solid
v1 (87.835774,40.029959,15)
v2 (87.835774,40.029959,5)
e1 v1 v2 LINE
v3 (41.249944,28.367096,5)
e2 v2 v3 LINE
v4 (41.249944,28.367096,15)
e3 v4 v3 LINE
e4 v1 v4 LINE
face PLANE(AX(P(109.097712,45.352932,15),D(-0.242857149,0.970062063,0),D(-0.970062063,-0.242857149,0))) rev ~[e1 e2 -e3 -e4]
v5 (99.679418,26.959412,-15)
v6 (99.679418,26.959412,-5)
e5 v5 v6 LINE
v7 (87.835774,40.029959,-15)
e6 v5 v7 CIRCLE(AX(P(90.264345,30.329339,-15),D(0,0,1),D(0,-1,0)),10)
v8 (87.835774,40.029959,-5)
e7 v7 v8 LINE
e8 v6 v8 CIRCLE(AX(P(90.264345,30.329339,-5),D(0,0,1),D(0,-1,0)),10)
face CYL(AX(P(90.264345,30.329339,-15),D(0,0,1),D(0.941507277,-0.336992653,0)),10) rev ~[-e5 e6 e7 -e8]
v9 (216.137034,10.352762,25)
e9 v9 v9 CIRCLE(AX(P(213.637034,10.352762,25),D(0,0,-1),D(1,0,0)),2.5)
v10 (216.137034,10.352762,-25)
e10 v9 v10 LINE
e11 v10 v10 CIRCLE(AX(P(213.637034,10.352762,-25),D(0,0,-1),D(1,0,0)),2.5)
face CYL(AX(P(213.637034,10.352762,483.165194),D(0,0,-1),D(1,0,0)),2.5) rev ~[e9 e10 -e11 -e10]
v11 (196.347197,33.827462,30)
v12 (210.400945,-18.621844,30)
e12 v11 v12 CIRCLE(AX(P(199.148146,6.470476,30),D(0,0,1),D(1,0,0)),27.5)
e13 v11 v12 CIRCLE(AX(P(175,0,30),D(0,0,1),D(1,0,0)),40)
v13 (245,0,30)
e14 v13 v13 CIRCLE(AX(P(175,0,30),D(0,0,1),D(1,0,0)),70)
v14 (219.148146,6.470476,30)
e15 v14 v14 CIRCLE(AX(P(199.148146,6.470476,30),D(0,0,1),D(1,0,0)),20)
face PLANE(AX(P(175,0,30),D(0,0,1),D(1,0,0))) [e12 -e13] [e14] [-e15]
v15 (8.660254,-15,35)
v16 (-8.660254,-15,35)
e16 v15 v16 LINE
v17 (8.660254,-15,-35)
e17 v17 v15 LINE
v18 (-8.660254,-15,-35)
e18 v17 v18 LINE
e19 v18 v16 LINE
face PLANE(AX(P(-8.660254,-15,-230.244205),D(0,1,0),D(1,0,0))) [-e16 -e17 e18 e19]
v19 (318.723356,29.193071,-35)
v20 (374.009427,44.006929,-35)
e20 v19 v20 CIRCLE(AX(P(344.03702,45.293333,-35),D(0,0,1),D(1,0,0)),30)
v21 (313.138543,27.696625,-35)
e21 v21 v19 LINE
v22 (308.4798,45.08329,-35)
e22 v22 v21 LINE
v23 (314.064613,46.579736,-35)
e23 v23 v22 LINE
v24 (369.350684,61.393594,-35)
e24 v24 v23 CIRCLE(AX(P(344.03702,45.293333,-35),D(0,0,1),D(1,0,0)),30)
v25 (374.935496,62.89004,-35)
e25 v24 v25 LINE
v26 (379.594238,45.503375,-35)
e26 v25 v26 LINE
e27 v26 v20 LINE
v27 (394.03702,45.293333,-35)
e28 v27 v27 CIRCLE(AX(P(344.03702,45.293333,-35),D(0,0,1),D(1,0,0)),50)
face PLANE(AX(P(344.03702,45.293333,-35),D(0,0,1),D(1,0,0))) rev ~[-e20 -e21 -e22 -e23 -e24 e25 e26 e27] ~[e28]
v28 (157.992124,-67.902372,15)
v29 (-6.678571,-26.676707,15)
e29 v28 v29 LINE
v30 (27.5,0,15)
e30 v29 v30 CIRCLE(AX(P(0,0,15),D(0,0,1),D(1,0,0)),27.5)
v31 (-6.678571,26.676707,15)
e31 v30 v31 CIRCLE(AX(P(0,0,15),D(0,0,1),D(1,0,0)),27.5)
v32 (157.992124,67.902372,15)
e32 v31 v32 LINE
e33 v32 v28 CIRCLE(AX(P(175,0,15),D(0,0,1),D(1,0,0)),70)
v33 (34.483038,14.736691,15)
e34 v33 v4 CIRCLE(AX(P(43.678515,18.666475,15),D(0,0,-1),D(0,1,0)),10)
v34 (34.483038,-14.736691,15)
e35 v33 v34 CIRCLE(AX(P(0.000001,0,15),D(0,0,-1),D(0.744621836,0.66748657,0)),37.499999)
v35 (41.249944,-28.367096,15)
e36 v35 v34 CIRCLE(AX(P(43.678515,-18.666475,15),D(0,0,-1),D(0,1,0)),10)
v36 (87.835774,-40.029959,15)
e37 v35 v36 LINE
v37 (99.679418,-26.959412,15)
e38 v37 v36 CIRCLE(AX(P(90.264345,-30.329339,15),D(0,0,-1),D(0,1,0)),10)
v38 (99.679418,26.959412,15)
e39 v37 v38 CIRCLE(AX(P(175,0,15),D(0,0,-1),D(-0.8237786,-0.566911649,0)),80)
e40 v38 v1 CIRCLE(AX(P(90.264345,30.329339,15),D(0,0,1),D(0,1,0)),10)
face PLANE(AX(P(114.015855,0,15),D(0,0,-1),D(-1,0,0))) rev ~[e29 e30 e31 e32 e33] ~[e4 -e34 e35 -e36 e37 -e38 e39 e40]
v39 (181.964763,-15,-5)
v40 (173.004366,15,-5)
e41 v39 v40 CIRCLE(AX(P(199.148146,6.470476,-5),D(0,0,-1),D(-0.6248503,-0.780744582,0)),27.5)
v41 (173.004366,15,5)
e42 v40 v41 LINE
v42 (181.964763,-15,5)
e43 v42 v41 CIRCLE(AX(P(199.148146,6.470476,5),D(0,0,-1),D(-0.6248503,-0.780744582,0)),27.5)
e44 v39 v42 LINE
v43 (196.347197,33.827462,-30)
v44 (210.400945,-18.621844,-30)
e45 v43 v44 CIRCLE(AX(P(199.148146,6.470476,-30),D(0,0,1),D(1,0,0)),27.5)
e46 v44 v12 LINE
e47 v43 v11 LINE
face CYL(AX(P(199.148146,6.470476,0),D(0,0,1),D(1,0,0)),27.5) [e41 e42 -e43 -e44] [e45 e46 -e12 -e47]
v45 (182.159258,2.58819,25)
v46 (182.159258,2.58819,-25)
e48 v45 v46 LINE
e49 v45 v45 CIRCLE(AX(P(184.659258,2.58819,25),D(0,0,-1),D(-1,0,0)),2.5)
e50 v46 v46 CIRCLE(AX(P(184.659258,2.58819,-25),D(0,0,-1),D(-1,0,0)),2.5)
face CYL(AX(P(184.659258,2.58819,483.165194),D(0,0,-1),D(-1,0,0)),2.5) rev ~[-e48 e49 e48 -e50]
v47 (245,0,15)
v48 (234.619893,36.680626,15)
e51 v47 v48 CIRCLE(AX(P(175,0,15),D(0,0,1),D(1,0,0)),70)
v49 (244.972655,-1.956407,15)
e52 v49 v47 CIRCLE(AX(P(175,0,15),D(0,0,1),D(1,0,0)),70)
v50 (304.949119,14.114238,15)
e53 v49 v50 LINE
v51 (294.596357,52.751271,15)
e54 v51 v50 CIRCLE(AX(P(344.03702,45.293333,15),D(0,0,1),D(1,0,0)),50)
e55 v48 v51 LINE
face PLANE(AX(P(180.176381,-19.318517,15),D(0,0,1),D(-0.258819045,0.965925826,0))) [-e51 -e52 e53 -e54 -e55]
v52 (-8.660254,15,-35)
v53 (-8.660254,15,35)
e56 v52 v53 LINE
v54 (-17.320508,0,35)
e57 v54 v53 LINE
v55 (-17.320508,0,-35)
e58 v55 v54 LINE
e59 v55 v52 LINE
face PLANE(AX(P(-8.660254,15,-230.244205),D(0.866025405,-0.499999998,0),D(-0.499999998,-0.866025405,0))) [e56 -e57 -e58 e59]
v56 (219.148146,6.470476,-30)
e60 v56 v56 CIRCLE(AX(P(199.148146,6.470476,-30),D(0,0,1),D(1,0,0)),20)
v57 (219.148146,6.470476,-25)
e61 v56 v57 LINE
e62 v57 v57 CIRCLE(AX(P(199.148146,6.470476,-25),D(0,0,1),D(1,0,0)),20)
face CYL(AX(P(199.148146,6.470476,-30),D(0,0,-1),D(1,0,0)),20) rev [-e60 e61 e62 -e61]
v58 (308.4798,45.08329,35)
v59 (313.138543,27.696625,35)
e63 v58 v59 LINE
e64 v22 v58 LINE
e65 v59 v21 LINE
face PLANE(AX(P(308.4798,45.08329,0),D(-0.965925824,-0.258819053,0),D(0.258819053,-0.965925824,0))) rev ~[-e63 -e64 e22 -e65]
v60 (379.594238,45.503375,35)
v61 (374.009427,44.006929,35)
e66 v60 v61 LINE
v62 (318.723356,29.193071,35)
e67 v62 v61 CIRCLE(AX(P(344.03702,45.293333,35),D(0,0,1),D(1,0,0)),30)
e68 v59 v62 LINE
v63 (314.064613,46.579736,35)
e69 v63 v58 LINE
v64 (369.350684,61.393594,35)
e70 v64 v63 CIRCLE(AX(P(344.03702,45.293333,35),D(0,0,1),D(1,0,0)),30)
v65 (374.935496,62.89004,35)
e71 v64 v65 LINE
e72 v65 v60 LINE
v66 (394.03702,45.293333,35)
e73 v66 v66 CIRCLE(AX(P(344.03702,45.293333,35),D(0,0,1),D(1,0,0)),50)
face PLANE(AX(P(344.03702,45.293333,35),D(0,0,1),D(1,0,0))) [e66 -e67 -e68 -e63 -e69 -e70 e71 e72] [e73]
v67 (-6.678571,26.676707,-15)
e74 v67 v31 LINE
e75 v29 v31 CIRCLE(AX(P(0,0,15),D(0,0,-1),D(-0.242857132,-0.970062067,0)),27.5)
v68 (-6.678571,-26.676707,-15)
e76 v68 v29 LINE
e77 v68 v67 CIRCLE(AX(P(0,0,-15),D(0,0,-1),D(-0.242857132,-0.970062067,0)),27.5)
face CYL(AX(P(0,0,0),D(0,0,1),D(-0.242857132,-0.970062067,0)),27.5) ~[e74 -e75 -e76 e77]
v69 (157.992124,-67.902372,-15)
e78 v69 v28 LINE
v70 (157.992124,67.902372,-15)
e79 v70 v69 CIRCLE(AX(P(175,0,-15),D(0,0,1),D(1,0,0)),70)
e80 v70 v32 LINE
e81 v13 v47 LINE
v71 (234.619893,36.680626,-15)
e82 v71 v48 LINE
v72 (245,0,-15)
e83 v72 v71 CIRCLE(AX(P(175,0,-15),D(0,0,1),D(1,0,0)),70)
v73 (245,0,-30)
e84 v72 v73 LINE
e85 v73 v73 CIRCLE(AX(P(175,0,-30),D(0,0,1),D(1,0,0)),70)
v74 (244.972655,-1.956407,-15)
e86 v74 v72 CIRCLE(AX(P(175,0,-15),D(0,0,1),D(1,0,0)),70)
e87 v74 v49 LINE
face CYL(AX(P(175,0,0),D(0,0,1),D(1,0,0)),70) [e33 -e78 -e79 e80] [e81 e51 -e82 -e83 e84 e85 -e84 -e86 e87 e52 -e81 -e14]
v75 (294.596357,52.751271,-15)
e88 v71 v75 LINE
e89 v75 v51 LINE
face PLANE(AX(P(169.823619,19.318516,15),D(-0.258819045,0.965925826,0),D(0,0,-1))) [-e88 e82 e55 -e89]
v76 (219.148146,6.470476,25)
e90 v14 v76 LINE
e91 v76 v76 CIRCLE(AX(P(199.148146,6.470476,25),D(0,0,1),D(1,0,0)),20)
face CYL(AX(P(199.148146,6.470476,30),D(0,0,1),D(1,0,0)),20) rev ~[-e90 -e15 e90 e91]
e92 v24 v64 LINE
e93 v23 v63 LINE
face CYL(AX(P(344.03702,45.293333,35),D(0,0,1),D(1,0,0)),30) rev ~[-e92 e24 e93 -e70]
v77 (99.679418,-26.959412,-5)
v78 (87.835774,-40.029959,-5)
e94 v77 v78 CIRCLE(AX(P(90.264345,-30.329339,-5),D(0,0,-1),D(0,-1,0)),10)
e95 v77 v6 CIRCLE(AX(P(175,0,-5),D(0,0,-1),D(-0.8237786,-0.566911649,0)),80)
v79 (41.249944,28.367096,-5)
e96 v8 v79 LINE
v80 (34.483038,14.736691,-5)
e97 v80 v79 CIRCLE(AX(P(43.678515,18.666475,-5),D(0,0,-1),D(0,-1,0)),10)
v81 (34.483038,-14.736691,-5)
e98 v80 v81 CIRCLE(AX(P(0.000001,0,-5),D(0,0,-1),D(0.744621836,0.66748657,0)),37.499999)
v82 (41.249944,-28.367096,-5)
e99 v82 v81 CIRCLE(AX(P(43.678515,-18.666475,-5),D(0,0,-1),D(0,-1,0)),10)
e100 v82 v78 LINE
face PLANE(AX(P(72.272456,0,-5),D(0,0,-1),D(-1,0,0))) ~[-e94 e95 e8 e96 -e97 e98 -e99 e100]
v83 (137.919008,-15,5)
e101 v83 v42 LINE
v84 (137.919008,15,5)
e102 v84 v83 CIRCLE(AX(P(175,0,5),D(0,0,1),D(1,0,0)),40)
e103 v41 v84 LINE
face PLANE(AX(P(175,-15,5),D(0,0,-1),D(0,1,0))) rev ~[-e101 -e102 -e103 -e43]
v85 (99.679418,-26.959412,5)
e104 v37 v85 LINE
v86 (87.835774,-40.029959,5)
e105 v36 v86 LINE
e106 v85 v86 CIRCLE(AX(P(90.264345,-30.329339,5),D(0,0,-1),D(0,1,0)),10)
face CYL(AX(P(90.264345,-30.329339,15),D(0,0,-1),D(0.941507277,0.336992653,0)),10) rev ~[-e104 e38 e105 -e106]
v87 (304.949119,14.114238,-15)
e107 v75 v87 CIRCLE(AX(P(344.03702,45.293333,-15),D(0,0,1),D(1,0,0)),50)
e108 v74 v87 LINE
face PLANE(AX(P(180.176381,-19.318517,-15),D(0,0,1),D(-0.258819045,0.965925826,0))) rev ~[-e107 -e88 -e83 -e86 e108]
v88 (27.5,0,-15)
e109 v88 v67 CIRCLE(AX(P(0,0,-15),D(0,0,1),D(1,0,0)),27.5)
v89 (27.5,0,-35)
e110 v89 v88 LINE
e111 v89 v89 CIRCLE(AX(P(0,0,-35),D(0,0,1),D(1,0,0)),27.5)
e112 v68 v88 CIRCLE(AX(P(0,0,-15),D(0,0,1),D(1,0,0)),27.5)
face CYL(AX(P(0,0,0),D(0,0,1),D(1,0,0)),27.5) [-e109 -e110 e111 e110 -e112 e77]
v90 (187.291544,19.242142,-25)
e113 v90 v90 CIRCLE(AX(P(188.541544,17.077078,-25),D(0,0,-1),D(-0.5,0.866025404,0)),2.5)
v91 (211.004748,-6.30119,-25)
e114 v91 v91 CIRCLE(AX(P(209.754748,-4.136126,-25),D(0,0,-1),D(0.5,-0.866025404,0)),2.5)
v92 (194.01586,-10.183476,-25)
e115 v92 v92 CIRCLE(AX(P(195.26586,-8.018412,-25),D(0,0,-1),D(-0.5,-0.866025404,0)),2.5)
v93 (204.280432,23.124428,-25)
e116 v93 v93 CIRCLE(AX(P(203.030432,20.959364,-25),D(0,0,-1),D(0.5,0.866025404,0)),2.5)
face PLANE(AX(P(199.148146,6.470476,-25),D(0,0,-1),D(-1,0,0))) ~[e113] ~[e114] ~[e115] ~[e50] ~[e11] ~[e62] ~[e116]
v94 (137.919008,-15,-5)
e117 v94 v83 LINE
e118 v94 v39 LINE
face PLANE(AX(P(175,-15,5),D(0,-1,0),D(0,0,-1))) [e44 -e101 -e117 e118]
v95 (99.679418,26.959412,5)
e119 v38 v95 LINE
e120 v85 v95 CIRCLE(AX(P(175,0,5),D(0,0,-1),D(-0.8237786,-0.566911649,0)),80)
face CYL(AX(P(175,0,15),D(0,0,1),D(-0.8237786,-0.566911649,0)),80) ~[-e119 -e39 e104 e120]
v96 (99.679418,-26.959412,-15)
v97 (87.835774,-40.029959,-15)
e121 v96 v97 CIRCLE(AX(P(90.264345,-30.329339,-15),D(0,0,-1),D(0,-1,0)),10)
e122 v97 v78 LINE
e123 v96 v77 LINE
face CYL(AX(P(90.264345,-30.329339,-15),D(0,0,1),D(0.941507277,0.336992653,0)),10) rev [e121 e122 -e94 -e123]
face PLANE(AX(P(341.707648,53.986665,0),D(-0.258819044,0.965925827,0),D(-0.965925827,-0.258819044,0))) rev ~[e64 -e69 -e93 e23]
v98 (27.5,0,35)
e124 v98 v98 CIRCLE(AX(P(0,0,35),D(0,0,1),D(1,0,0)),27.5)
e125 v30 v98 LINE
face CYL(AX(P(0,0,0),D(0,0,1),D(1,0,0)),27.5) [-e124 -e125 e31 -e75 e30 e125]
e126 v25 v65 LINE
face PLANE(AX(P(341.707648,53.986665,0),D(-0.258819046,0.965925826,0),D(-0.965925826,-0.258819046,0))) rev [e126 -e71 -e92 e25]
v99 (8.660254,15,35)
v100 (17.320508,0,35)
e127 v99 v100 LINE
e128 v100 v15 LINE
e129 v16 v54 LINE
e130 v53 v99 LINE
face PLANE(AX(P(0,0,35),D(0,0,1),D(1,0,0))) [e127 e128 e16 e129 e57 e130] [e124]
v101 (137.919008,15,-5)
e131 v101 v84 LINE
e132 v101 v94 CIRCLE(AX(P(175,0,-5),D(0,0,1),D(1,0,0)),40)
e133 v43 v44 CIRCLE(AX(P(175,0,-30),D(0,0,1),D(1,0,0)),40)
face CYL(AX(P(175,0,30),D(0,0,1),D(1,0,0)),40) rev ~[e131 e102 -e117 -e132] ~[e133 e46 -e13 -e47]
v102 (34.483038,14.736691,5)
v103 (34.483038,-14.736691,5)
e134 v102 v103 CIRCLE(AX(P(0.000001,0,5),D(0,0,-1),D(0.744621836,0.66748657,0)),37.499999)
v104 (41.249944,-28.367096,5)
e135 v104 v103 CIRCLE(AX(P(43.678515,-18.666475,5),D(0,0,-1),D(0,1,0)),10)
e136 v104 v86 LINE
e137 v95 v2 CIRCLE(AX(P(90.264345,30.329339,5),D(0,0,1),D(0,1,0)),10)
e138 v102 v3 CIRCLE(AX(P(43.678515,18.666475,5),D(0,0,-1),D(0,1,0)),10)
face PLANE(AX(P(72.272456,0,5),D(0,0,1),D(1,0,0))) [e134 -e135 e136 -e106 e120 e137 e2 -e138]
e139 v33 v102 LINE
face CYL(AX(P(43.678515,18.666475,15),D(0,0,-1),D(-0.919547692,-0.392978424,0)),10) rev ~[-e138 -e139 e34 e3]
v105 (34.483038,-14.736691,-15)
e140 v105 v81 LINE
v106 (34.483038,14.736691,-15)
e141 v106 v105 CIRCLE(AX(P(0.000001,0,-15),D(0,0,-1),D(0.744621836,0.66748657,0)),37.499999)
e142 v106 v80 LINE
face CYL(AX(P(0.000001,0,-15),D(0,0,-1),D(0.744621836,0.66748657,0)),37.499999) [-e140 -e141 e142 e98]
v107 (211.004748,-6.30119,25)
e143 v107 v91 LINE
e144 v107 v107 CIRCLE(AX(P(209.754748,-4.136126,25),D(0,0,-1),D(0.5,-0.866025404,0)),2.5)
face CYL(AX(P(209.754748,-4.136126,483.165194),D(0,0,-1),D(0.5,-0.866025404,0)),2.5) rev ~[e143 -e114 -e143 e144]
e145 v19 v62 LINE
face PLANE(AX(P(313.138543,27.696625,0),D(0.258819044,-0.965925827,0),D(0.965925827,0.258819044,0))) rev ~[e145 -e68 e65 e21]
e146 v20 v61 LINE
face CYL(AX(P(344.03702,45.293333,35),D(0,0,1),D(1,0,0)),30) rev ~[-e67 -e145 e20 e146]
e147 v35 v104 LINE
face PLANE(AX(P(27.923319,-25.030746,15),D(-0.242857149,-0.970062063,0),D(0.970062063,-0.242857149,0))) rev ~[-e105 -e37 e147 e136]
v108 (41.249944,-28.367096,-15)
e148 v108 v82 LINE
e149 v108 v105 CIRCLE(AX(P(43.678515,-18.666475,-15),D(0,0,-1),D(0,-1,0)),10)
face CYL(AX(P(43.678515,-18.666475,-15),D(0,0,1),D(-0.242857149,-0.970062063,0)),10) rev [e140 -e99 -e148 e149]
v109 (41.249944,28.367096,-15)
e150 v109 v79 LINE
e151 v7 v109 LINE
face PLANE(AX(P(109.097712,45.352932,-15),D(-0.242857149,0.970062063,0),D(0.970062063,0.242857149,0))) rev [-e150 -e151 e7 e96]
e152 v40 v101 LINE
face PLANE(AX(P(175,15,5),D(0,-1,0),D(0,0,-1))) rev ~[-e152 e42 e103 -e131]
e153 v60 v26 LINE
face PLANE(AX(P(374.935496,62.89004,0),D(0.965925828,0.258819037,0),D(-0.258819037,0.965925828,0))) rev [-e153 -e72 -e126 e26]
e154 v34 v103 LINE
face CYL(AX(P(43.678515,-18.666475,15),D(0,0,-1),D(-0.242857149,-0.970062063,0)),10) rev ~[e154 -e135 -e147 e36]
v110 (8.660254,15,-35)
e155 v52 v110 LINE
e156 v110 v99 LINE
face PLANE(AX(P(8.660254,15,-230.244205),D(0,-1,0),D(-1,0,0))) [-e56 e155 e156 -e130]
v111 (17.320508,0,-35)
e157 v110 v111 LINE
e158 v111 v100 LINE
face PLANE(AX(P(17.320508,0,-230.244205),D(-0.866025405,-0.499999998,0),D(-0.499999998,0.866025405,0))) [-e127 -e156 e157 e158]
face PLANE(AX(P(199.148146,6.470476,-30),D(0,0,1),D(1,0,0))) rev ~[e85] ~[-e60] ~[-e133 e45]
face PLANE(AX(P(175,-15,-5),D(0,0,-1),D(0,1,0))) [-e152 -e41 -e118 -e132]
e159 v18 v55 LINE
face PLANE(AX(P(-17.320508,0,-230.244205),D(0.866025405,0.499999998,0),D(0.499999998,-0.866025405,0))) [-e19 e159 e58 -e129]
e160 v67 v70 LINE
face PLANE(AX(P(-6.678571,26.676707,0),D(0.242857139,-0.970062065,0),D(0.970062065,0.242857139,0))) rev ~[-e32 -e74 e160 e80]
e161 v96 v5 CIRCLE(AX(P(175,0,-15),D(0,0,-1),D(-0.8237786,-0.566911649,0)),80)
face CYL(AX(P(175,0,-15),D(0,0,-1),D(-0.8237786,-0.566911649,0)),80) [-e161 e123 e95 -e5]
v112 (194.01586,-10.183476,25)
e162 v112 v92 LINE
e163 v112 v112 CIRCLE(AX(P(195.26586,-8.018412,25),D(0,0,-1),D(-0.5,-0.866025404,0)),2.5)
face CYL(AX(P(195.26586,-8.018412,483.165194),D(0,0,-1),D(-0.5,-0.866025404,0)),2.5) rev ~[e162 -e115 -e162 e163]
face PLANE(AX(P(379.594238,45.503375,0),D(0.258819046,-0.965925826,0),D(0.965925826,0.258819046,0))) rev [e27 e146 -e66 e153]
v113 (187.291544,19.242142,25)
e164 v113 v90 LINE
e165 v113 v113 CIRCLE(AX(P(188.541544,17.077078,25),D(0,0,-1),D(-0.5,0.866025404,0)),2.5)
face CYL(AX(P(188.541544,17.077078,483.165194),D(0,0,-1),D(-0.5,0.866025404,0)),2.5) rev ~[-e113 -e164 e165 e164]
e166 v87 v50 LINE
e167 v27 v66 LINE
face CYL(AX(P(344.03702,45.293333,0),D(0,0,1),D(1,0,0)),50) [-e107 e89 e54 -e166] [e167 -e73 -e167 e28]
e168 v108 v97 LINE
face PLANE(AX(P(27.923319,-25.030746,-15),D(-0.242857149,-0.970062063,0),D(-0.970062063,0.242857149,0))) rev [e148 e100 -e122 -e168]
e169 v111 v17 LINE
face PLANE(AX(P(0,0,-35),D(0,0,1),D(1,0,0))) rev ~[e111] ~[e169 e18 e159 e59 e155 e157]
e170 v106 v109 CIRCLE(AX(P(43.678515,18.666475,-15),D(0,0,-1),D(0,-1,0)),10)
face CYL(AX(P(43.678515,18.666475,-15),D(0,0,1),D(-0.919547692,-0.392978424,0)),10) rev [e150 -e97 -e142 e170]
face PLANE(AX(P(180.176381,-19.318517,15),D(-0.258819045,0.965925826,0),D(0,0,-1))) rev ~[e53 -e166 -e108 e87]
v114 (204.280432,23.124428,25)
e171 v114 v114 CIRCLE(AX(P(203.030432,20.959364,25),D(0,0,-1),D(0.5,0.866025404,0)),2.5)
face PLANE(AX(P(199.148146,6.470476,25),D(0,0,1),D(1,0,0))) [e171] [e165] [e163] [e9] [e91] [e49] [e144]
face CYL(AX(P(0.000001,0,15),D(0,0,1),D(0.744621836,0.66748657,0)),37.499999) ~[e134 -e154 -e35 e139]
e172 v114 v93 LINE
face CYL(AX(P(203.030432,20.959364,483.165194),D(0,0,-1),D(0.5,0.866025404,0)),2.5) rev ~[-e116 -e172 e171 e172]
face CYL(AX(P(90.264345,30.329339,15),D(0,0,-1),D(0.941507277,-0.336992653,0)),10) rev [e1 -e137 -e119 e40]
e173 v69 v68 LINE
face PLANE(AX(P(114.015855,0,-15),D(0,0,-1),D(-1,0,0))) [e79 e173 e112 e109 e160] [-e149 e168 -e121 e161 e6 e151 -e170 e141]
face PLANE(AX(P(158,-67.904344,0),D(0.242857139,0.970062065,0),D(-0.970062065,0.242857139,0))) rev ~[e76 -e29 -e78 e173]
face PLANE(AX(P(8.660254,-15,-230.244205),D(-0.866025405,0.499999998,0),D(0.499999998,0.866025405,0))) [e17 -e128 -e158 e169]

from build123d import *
from build123d.topology import SkipClean

# Parameters (mm, degrees)
LEFT_ARM_DEPTH                = 15
SKETCH2_R                     = 27.5
LEFT_BOSS_DEPTH               = 35
LEFT_HEX_DEPTH                = 265.244205
LEFT_HEX_DEPTH_BACK           = 265.244205
SKETCH3_R                     = 70
CENTRE_BOSS_DEPTH             = 30
SKETCH5_W                     = 30
SKETCH5_H                     = 40
RIGHT_ARM_DEPTH               = 175
SKETCH7_R                     = 50
RIGHT_BOSS_DEPTH              = 35
SKETCH8_R                     = 30
RIGHT_BOSS_HOLE_DEPTH         = 412.395178
SKETCH9_R                     = 40
CENTRE_HOLE_DEPTH             = 411.573979
SKETCH10_R                    = 27.5
CENTRE_BLOB_DEPTH             = 30
CENTRE_BEAM_REACH             = 243.419
SKETCH11_W                    = 10
SKETCH11_H                    = 30
CENTRE_BEAM_DIRECTION_2_REACH = 243.419
SKETCH12_R                    = 20
CUT_EXTRUDE4_DEPTH            = 5
M6X1_0_TAPPED_HOLE1_D         = 5
CIRPATTERN1_COUNT             = 6
CUT_OUT_DEPTH                 = 10
FILLET1_R                     = 10
FILLET1_OF_MIRROR2_R          = 10
KEYWAY_DEPTH                  = 407.904156


with BuildPart() as part:
    # Sketch1 → LEFT_ARM (new, symmetric)
    with BuildSketch(Plane.XY):
        with BuildLine():
            Line((-6.678571, 26.676707), (158, 67.904344))
            ThreePointArc((158, 67.904344), (245, 0), (158, -67.904344))
            Line((158, -67.904344), (-6.678571, -26.676707))
            ThreePointArc((-6.678571, -26.676707), (-27.5, 0), (-6.678571, 26.676707))
        make_face()
    extrude(amount=LEFT_ARM_DEPTH, both=True)

    # Sketch2 → LEFT_Boss (add, symmetric)
    with SkipClean():  # the faces are left unmerged after this step: merging them gives an invalid solid
        with BuildSketch(Plane.XY):
            Circle(SKETCH2_R)
        extrude(amount=LEFT_BOSS_DEPTH, both=True)

    # Sketch4 → LEFT_Hex (cut, two sides: drawn at the far end of the back side and taken through both)
    with SkipClean():  # the faces are left unmerged after this step: merging them gives an invalid solid
        with BuildSketch(Plane.XY.offset(35).offset(-LEFT_HEX_DEPTH_BACK)):
            Polygon((17.320508, 0), (8.660254, 15), (-8.660254, 15), (-17.320508, 0), (-8.660254, -15), (8.660254, -15), align=None)
        extrude(amount=LEFT_HEX_DEPTH + LEFT_HEX_DEPTH_BACK, mode=Mode.SUBTRACT)

    # Sketch3 → CENTRE_Boss (add, symmetric)
    with BuildSketch(Plane.XY):
        with Locations((175, 0)):
            Circle(SKETCH3_R)
    extrude(amount=CENTRE_BOSS_DEPTH, both=True)

    # Sketch5 → RIGHT_ARM (add)
    with BuildSketch(Plane(origin=(163.277223, 43.75, 0), x_dir=(0, 0, -1), z_dir=(0.9659258262890681, 0.25881904510252135, 0))):
        with Locations((0, -45.293333)):
            Rectangle(SKETCH5_W, SKETCH5_H)
    extrude(amount=RIGHT_ARM_DEPTH)

    # Sketch7 → RIGHT_Boss (add, symmetric)
    with BuildSketch(Plane.XY):
        with Locations((344.03702, 45.293333)):
            Circle(SKETCH7_R)
    extrude(amount=RIGHT_BOSS_DEPTH, both=True)

    # Sketch8 → RIGHT_Boss_Hole (cut, through all)
    with BuildSketch(Plane.XY.offset(35)):
        with Locations((344.03702, 45.293333)):
            Circle(SKETCH8_R)
    extrude(amount=-RIGHT_BOSS_HOLE_DEPTH, mode=Mode.SUBTRACT)

    # Sketch9 → CENTRE_Hole (cut, through all)
    with BuildSketch(Plane.XY.offset(30)):
        with Locations((175, 0)):
            Circle(SKETCH9_R)
    extrude(amount=-CENTRE_HOLE_DEPTH, mode=Mode.SUBTRACT)

    # Sketch10 → CENTRE_Blob (add, symmetric)
    with BuildSketch(Plane.XY):
        with Locations((199.148146, 6.470476)):
            Circle(SKETCH10_R)
    extrude(amount=CENTRE_BLOB_DEPTH, both=True)

    # Sketch11 → CENTRE_Beam (add, up to next)
    with BuildSketch(Plane(origin=(175, 0, 0), x_dir=(0, 0, -1), z_dir=(1, 0, 0)), mode=Mode.PRIVATE) as centre_beam_sk1:
        Rectangle(SKETCH11_W, SKETCH11_H)
    centre_beam_tool1 = extrude(centre_beam_sk1.sketch, amount=CENTRE_BEAM_REACH, mode=Mode.PRIVATE) - part.part
    add(centre_beam_tool1.solids().sort_by_distance((175, 0, 0))[0])

    # Sketch11 → CENTRE_Beam direction 2 (add, up to next)
    with BuildSketch(Plane(origin=(175, 0, 0), x_dir=(0, 0, -1), z_dir=(1, 0, 0)), mode=Mode.PRIVATE) as centre_beam_direction_2_sk1:
        Rectangle(SKETCH11_W, SKETCH11_H)
    centre_beam_direction_2_tool1 = extrude(centre_beam_direction_2_sk1.sketch, amount=-CENTRE_BEAM_DIRECTION_2_REACH, mode=Mode.PRIVATE) - part.part
    add(centre_beam_direction_2_tool1.solids().sort_by_distance((175, 0, 0))[0])

    # Sketch12 → Cut-Extrude4 (cut)
    with BuildSketch(Plane.XY.offset(30)):
        with Locations((199.148146, 6.470476)):
            Circle(SKETCH12_R)
    cut_extrude4 = extrude(amount=-CUT_EXTRUDE4_DEPTH, mode=Mode.SUBTRACT)

    # M6x1.0 Tapped Hole1 (through all)
    with Locations(Plane.XY.offset(25)):
        with Locations((184.659258, 2.58819)):
            m6x1_0_tapped_hole1 = Hole(M6X1_0_TAPPED_HOLE1_D / 2)

    # CirPattern1: M6x1.0 Tapped Hole1 ×6 about axis
    cirpattern1_axis = Axis((199.148146, 6.470476, 0), (0, 0, 1))
    for i in range(1, CIRPATTERN1_COUNT):
        add(m6x1_0_tapped_hole1.rotate(cirpattern1_axis, i * 360 / CIRPATTERN1_COUNT), mode=Mode.SUBTRACT)

    # Mirror1: Cut-Extrude4 across plane
    add(cut_extrude4.mirror(Plane.XY), mode=Mode.SUBTRACT)

    # Sketch15 → Cut_OUT (cut)
    with BuildSketch(Plane.XY.offset(15)):
        with BuildLine():
            Line((109.097712, 45.352932), (27.923319, 25.030746))
            ThreePointArc((27.923319, 25.030746), (37.5, 0), (27.923319, -25.030746))
            Line((27.923319, -25.030746), (109.097712, -45.352932))
            ThreePointArc((109.097712, -45.352932), (95, 0), (109.097712, 45.352932))
        make_face()
    cut_out = extrude(amount=-CUT_OUT_DEPTH, mode=Mode.SUBTRACT)

    # Fillet1
    fillet1_edges = [part.edges().sort_by_distance(p)[0] for p in [
        (27.923319, -25.030746, 10),
        (27.923319, 25.030746, 10),
        (109.097712, 45.352932, 10),
        (109.097712, -45.352932, 10),
    ]]
    fillet(fillet1_edges, radius=FILLET1_R)

    # Mirror2: Cut_OUT across plane
    with SkipClean():  # the faces are left unmerged after this step: merging them gives an invalid solid
        add(cut_out.mirror(Plane.XY), mode=Mode.SUBTRACT)

    # Fillet1 of Mirror2
    fillet1_of_mirror2_edges = [part.edges().sort_by_distance(p)[0] for p in [
        (27.923319, -25.030746, -10),
        (27.923319, 25.030746, -10),
        (109.097712, 45.352932, -10),
        (109.097712, -45.352932, -10),
    ]]
    fillet(fillet1_of_mirror2_edges, radius=FILLET1_OF_MIRROR2_R)

    # Sketch16 → KEYWAY (cut, symmetric)
    with SkipClean():  # the faces are left unmerged after this step: merging them gives an invalid solid
        with BuildSketch(Plane.XY):
            Polygon((346.366391, 36.6), (341.707648, 53.986665), (308.4798, 45.08329), (313.138543, 27.696625), align=None)
        keyway = extrude(amount=KEYWAY_DEPTH, both=True, mode=Mode.SUBTRACT)

    # Mirror3: KEYWAY across plane
    with SkipClean():  # the faces are left unmerged after this step: merging them gives an invalid solid
        add(keyway.mirror(Plane(origin=(332.314242, 89.043333, 0), x_dir=(0, 0, 1), z_dir=(0.9659258262890681, 0.25881904510252135, 0))), mode=Mode.SUBTRACT)


solid = part.part
